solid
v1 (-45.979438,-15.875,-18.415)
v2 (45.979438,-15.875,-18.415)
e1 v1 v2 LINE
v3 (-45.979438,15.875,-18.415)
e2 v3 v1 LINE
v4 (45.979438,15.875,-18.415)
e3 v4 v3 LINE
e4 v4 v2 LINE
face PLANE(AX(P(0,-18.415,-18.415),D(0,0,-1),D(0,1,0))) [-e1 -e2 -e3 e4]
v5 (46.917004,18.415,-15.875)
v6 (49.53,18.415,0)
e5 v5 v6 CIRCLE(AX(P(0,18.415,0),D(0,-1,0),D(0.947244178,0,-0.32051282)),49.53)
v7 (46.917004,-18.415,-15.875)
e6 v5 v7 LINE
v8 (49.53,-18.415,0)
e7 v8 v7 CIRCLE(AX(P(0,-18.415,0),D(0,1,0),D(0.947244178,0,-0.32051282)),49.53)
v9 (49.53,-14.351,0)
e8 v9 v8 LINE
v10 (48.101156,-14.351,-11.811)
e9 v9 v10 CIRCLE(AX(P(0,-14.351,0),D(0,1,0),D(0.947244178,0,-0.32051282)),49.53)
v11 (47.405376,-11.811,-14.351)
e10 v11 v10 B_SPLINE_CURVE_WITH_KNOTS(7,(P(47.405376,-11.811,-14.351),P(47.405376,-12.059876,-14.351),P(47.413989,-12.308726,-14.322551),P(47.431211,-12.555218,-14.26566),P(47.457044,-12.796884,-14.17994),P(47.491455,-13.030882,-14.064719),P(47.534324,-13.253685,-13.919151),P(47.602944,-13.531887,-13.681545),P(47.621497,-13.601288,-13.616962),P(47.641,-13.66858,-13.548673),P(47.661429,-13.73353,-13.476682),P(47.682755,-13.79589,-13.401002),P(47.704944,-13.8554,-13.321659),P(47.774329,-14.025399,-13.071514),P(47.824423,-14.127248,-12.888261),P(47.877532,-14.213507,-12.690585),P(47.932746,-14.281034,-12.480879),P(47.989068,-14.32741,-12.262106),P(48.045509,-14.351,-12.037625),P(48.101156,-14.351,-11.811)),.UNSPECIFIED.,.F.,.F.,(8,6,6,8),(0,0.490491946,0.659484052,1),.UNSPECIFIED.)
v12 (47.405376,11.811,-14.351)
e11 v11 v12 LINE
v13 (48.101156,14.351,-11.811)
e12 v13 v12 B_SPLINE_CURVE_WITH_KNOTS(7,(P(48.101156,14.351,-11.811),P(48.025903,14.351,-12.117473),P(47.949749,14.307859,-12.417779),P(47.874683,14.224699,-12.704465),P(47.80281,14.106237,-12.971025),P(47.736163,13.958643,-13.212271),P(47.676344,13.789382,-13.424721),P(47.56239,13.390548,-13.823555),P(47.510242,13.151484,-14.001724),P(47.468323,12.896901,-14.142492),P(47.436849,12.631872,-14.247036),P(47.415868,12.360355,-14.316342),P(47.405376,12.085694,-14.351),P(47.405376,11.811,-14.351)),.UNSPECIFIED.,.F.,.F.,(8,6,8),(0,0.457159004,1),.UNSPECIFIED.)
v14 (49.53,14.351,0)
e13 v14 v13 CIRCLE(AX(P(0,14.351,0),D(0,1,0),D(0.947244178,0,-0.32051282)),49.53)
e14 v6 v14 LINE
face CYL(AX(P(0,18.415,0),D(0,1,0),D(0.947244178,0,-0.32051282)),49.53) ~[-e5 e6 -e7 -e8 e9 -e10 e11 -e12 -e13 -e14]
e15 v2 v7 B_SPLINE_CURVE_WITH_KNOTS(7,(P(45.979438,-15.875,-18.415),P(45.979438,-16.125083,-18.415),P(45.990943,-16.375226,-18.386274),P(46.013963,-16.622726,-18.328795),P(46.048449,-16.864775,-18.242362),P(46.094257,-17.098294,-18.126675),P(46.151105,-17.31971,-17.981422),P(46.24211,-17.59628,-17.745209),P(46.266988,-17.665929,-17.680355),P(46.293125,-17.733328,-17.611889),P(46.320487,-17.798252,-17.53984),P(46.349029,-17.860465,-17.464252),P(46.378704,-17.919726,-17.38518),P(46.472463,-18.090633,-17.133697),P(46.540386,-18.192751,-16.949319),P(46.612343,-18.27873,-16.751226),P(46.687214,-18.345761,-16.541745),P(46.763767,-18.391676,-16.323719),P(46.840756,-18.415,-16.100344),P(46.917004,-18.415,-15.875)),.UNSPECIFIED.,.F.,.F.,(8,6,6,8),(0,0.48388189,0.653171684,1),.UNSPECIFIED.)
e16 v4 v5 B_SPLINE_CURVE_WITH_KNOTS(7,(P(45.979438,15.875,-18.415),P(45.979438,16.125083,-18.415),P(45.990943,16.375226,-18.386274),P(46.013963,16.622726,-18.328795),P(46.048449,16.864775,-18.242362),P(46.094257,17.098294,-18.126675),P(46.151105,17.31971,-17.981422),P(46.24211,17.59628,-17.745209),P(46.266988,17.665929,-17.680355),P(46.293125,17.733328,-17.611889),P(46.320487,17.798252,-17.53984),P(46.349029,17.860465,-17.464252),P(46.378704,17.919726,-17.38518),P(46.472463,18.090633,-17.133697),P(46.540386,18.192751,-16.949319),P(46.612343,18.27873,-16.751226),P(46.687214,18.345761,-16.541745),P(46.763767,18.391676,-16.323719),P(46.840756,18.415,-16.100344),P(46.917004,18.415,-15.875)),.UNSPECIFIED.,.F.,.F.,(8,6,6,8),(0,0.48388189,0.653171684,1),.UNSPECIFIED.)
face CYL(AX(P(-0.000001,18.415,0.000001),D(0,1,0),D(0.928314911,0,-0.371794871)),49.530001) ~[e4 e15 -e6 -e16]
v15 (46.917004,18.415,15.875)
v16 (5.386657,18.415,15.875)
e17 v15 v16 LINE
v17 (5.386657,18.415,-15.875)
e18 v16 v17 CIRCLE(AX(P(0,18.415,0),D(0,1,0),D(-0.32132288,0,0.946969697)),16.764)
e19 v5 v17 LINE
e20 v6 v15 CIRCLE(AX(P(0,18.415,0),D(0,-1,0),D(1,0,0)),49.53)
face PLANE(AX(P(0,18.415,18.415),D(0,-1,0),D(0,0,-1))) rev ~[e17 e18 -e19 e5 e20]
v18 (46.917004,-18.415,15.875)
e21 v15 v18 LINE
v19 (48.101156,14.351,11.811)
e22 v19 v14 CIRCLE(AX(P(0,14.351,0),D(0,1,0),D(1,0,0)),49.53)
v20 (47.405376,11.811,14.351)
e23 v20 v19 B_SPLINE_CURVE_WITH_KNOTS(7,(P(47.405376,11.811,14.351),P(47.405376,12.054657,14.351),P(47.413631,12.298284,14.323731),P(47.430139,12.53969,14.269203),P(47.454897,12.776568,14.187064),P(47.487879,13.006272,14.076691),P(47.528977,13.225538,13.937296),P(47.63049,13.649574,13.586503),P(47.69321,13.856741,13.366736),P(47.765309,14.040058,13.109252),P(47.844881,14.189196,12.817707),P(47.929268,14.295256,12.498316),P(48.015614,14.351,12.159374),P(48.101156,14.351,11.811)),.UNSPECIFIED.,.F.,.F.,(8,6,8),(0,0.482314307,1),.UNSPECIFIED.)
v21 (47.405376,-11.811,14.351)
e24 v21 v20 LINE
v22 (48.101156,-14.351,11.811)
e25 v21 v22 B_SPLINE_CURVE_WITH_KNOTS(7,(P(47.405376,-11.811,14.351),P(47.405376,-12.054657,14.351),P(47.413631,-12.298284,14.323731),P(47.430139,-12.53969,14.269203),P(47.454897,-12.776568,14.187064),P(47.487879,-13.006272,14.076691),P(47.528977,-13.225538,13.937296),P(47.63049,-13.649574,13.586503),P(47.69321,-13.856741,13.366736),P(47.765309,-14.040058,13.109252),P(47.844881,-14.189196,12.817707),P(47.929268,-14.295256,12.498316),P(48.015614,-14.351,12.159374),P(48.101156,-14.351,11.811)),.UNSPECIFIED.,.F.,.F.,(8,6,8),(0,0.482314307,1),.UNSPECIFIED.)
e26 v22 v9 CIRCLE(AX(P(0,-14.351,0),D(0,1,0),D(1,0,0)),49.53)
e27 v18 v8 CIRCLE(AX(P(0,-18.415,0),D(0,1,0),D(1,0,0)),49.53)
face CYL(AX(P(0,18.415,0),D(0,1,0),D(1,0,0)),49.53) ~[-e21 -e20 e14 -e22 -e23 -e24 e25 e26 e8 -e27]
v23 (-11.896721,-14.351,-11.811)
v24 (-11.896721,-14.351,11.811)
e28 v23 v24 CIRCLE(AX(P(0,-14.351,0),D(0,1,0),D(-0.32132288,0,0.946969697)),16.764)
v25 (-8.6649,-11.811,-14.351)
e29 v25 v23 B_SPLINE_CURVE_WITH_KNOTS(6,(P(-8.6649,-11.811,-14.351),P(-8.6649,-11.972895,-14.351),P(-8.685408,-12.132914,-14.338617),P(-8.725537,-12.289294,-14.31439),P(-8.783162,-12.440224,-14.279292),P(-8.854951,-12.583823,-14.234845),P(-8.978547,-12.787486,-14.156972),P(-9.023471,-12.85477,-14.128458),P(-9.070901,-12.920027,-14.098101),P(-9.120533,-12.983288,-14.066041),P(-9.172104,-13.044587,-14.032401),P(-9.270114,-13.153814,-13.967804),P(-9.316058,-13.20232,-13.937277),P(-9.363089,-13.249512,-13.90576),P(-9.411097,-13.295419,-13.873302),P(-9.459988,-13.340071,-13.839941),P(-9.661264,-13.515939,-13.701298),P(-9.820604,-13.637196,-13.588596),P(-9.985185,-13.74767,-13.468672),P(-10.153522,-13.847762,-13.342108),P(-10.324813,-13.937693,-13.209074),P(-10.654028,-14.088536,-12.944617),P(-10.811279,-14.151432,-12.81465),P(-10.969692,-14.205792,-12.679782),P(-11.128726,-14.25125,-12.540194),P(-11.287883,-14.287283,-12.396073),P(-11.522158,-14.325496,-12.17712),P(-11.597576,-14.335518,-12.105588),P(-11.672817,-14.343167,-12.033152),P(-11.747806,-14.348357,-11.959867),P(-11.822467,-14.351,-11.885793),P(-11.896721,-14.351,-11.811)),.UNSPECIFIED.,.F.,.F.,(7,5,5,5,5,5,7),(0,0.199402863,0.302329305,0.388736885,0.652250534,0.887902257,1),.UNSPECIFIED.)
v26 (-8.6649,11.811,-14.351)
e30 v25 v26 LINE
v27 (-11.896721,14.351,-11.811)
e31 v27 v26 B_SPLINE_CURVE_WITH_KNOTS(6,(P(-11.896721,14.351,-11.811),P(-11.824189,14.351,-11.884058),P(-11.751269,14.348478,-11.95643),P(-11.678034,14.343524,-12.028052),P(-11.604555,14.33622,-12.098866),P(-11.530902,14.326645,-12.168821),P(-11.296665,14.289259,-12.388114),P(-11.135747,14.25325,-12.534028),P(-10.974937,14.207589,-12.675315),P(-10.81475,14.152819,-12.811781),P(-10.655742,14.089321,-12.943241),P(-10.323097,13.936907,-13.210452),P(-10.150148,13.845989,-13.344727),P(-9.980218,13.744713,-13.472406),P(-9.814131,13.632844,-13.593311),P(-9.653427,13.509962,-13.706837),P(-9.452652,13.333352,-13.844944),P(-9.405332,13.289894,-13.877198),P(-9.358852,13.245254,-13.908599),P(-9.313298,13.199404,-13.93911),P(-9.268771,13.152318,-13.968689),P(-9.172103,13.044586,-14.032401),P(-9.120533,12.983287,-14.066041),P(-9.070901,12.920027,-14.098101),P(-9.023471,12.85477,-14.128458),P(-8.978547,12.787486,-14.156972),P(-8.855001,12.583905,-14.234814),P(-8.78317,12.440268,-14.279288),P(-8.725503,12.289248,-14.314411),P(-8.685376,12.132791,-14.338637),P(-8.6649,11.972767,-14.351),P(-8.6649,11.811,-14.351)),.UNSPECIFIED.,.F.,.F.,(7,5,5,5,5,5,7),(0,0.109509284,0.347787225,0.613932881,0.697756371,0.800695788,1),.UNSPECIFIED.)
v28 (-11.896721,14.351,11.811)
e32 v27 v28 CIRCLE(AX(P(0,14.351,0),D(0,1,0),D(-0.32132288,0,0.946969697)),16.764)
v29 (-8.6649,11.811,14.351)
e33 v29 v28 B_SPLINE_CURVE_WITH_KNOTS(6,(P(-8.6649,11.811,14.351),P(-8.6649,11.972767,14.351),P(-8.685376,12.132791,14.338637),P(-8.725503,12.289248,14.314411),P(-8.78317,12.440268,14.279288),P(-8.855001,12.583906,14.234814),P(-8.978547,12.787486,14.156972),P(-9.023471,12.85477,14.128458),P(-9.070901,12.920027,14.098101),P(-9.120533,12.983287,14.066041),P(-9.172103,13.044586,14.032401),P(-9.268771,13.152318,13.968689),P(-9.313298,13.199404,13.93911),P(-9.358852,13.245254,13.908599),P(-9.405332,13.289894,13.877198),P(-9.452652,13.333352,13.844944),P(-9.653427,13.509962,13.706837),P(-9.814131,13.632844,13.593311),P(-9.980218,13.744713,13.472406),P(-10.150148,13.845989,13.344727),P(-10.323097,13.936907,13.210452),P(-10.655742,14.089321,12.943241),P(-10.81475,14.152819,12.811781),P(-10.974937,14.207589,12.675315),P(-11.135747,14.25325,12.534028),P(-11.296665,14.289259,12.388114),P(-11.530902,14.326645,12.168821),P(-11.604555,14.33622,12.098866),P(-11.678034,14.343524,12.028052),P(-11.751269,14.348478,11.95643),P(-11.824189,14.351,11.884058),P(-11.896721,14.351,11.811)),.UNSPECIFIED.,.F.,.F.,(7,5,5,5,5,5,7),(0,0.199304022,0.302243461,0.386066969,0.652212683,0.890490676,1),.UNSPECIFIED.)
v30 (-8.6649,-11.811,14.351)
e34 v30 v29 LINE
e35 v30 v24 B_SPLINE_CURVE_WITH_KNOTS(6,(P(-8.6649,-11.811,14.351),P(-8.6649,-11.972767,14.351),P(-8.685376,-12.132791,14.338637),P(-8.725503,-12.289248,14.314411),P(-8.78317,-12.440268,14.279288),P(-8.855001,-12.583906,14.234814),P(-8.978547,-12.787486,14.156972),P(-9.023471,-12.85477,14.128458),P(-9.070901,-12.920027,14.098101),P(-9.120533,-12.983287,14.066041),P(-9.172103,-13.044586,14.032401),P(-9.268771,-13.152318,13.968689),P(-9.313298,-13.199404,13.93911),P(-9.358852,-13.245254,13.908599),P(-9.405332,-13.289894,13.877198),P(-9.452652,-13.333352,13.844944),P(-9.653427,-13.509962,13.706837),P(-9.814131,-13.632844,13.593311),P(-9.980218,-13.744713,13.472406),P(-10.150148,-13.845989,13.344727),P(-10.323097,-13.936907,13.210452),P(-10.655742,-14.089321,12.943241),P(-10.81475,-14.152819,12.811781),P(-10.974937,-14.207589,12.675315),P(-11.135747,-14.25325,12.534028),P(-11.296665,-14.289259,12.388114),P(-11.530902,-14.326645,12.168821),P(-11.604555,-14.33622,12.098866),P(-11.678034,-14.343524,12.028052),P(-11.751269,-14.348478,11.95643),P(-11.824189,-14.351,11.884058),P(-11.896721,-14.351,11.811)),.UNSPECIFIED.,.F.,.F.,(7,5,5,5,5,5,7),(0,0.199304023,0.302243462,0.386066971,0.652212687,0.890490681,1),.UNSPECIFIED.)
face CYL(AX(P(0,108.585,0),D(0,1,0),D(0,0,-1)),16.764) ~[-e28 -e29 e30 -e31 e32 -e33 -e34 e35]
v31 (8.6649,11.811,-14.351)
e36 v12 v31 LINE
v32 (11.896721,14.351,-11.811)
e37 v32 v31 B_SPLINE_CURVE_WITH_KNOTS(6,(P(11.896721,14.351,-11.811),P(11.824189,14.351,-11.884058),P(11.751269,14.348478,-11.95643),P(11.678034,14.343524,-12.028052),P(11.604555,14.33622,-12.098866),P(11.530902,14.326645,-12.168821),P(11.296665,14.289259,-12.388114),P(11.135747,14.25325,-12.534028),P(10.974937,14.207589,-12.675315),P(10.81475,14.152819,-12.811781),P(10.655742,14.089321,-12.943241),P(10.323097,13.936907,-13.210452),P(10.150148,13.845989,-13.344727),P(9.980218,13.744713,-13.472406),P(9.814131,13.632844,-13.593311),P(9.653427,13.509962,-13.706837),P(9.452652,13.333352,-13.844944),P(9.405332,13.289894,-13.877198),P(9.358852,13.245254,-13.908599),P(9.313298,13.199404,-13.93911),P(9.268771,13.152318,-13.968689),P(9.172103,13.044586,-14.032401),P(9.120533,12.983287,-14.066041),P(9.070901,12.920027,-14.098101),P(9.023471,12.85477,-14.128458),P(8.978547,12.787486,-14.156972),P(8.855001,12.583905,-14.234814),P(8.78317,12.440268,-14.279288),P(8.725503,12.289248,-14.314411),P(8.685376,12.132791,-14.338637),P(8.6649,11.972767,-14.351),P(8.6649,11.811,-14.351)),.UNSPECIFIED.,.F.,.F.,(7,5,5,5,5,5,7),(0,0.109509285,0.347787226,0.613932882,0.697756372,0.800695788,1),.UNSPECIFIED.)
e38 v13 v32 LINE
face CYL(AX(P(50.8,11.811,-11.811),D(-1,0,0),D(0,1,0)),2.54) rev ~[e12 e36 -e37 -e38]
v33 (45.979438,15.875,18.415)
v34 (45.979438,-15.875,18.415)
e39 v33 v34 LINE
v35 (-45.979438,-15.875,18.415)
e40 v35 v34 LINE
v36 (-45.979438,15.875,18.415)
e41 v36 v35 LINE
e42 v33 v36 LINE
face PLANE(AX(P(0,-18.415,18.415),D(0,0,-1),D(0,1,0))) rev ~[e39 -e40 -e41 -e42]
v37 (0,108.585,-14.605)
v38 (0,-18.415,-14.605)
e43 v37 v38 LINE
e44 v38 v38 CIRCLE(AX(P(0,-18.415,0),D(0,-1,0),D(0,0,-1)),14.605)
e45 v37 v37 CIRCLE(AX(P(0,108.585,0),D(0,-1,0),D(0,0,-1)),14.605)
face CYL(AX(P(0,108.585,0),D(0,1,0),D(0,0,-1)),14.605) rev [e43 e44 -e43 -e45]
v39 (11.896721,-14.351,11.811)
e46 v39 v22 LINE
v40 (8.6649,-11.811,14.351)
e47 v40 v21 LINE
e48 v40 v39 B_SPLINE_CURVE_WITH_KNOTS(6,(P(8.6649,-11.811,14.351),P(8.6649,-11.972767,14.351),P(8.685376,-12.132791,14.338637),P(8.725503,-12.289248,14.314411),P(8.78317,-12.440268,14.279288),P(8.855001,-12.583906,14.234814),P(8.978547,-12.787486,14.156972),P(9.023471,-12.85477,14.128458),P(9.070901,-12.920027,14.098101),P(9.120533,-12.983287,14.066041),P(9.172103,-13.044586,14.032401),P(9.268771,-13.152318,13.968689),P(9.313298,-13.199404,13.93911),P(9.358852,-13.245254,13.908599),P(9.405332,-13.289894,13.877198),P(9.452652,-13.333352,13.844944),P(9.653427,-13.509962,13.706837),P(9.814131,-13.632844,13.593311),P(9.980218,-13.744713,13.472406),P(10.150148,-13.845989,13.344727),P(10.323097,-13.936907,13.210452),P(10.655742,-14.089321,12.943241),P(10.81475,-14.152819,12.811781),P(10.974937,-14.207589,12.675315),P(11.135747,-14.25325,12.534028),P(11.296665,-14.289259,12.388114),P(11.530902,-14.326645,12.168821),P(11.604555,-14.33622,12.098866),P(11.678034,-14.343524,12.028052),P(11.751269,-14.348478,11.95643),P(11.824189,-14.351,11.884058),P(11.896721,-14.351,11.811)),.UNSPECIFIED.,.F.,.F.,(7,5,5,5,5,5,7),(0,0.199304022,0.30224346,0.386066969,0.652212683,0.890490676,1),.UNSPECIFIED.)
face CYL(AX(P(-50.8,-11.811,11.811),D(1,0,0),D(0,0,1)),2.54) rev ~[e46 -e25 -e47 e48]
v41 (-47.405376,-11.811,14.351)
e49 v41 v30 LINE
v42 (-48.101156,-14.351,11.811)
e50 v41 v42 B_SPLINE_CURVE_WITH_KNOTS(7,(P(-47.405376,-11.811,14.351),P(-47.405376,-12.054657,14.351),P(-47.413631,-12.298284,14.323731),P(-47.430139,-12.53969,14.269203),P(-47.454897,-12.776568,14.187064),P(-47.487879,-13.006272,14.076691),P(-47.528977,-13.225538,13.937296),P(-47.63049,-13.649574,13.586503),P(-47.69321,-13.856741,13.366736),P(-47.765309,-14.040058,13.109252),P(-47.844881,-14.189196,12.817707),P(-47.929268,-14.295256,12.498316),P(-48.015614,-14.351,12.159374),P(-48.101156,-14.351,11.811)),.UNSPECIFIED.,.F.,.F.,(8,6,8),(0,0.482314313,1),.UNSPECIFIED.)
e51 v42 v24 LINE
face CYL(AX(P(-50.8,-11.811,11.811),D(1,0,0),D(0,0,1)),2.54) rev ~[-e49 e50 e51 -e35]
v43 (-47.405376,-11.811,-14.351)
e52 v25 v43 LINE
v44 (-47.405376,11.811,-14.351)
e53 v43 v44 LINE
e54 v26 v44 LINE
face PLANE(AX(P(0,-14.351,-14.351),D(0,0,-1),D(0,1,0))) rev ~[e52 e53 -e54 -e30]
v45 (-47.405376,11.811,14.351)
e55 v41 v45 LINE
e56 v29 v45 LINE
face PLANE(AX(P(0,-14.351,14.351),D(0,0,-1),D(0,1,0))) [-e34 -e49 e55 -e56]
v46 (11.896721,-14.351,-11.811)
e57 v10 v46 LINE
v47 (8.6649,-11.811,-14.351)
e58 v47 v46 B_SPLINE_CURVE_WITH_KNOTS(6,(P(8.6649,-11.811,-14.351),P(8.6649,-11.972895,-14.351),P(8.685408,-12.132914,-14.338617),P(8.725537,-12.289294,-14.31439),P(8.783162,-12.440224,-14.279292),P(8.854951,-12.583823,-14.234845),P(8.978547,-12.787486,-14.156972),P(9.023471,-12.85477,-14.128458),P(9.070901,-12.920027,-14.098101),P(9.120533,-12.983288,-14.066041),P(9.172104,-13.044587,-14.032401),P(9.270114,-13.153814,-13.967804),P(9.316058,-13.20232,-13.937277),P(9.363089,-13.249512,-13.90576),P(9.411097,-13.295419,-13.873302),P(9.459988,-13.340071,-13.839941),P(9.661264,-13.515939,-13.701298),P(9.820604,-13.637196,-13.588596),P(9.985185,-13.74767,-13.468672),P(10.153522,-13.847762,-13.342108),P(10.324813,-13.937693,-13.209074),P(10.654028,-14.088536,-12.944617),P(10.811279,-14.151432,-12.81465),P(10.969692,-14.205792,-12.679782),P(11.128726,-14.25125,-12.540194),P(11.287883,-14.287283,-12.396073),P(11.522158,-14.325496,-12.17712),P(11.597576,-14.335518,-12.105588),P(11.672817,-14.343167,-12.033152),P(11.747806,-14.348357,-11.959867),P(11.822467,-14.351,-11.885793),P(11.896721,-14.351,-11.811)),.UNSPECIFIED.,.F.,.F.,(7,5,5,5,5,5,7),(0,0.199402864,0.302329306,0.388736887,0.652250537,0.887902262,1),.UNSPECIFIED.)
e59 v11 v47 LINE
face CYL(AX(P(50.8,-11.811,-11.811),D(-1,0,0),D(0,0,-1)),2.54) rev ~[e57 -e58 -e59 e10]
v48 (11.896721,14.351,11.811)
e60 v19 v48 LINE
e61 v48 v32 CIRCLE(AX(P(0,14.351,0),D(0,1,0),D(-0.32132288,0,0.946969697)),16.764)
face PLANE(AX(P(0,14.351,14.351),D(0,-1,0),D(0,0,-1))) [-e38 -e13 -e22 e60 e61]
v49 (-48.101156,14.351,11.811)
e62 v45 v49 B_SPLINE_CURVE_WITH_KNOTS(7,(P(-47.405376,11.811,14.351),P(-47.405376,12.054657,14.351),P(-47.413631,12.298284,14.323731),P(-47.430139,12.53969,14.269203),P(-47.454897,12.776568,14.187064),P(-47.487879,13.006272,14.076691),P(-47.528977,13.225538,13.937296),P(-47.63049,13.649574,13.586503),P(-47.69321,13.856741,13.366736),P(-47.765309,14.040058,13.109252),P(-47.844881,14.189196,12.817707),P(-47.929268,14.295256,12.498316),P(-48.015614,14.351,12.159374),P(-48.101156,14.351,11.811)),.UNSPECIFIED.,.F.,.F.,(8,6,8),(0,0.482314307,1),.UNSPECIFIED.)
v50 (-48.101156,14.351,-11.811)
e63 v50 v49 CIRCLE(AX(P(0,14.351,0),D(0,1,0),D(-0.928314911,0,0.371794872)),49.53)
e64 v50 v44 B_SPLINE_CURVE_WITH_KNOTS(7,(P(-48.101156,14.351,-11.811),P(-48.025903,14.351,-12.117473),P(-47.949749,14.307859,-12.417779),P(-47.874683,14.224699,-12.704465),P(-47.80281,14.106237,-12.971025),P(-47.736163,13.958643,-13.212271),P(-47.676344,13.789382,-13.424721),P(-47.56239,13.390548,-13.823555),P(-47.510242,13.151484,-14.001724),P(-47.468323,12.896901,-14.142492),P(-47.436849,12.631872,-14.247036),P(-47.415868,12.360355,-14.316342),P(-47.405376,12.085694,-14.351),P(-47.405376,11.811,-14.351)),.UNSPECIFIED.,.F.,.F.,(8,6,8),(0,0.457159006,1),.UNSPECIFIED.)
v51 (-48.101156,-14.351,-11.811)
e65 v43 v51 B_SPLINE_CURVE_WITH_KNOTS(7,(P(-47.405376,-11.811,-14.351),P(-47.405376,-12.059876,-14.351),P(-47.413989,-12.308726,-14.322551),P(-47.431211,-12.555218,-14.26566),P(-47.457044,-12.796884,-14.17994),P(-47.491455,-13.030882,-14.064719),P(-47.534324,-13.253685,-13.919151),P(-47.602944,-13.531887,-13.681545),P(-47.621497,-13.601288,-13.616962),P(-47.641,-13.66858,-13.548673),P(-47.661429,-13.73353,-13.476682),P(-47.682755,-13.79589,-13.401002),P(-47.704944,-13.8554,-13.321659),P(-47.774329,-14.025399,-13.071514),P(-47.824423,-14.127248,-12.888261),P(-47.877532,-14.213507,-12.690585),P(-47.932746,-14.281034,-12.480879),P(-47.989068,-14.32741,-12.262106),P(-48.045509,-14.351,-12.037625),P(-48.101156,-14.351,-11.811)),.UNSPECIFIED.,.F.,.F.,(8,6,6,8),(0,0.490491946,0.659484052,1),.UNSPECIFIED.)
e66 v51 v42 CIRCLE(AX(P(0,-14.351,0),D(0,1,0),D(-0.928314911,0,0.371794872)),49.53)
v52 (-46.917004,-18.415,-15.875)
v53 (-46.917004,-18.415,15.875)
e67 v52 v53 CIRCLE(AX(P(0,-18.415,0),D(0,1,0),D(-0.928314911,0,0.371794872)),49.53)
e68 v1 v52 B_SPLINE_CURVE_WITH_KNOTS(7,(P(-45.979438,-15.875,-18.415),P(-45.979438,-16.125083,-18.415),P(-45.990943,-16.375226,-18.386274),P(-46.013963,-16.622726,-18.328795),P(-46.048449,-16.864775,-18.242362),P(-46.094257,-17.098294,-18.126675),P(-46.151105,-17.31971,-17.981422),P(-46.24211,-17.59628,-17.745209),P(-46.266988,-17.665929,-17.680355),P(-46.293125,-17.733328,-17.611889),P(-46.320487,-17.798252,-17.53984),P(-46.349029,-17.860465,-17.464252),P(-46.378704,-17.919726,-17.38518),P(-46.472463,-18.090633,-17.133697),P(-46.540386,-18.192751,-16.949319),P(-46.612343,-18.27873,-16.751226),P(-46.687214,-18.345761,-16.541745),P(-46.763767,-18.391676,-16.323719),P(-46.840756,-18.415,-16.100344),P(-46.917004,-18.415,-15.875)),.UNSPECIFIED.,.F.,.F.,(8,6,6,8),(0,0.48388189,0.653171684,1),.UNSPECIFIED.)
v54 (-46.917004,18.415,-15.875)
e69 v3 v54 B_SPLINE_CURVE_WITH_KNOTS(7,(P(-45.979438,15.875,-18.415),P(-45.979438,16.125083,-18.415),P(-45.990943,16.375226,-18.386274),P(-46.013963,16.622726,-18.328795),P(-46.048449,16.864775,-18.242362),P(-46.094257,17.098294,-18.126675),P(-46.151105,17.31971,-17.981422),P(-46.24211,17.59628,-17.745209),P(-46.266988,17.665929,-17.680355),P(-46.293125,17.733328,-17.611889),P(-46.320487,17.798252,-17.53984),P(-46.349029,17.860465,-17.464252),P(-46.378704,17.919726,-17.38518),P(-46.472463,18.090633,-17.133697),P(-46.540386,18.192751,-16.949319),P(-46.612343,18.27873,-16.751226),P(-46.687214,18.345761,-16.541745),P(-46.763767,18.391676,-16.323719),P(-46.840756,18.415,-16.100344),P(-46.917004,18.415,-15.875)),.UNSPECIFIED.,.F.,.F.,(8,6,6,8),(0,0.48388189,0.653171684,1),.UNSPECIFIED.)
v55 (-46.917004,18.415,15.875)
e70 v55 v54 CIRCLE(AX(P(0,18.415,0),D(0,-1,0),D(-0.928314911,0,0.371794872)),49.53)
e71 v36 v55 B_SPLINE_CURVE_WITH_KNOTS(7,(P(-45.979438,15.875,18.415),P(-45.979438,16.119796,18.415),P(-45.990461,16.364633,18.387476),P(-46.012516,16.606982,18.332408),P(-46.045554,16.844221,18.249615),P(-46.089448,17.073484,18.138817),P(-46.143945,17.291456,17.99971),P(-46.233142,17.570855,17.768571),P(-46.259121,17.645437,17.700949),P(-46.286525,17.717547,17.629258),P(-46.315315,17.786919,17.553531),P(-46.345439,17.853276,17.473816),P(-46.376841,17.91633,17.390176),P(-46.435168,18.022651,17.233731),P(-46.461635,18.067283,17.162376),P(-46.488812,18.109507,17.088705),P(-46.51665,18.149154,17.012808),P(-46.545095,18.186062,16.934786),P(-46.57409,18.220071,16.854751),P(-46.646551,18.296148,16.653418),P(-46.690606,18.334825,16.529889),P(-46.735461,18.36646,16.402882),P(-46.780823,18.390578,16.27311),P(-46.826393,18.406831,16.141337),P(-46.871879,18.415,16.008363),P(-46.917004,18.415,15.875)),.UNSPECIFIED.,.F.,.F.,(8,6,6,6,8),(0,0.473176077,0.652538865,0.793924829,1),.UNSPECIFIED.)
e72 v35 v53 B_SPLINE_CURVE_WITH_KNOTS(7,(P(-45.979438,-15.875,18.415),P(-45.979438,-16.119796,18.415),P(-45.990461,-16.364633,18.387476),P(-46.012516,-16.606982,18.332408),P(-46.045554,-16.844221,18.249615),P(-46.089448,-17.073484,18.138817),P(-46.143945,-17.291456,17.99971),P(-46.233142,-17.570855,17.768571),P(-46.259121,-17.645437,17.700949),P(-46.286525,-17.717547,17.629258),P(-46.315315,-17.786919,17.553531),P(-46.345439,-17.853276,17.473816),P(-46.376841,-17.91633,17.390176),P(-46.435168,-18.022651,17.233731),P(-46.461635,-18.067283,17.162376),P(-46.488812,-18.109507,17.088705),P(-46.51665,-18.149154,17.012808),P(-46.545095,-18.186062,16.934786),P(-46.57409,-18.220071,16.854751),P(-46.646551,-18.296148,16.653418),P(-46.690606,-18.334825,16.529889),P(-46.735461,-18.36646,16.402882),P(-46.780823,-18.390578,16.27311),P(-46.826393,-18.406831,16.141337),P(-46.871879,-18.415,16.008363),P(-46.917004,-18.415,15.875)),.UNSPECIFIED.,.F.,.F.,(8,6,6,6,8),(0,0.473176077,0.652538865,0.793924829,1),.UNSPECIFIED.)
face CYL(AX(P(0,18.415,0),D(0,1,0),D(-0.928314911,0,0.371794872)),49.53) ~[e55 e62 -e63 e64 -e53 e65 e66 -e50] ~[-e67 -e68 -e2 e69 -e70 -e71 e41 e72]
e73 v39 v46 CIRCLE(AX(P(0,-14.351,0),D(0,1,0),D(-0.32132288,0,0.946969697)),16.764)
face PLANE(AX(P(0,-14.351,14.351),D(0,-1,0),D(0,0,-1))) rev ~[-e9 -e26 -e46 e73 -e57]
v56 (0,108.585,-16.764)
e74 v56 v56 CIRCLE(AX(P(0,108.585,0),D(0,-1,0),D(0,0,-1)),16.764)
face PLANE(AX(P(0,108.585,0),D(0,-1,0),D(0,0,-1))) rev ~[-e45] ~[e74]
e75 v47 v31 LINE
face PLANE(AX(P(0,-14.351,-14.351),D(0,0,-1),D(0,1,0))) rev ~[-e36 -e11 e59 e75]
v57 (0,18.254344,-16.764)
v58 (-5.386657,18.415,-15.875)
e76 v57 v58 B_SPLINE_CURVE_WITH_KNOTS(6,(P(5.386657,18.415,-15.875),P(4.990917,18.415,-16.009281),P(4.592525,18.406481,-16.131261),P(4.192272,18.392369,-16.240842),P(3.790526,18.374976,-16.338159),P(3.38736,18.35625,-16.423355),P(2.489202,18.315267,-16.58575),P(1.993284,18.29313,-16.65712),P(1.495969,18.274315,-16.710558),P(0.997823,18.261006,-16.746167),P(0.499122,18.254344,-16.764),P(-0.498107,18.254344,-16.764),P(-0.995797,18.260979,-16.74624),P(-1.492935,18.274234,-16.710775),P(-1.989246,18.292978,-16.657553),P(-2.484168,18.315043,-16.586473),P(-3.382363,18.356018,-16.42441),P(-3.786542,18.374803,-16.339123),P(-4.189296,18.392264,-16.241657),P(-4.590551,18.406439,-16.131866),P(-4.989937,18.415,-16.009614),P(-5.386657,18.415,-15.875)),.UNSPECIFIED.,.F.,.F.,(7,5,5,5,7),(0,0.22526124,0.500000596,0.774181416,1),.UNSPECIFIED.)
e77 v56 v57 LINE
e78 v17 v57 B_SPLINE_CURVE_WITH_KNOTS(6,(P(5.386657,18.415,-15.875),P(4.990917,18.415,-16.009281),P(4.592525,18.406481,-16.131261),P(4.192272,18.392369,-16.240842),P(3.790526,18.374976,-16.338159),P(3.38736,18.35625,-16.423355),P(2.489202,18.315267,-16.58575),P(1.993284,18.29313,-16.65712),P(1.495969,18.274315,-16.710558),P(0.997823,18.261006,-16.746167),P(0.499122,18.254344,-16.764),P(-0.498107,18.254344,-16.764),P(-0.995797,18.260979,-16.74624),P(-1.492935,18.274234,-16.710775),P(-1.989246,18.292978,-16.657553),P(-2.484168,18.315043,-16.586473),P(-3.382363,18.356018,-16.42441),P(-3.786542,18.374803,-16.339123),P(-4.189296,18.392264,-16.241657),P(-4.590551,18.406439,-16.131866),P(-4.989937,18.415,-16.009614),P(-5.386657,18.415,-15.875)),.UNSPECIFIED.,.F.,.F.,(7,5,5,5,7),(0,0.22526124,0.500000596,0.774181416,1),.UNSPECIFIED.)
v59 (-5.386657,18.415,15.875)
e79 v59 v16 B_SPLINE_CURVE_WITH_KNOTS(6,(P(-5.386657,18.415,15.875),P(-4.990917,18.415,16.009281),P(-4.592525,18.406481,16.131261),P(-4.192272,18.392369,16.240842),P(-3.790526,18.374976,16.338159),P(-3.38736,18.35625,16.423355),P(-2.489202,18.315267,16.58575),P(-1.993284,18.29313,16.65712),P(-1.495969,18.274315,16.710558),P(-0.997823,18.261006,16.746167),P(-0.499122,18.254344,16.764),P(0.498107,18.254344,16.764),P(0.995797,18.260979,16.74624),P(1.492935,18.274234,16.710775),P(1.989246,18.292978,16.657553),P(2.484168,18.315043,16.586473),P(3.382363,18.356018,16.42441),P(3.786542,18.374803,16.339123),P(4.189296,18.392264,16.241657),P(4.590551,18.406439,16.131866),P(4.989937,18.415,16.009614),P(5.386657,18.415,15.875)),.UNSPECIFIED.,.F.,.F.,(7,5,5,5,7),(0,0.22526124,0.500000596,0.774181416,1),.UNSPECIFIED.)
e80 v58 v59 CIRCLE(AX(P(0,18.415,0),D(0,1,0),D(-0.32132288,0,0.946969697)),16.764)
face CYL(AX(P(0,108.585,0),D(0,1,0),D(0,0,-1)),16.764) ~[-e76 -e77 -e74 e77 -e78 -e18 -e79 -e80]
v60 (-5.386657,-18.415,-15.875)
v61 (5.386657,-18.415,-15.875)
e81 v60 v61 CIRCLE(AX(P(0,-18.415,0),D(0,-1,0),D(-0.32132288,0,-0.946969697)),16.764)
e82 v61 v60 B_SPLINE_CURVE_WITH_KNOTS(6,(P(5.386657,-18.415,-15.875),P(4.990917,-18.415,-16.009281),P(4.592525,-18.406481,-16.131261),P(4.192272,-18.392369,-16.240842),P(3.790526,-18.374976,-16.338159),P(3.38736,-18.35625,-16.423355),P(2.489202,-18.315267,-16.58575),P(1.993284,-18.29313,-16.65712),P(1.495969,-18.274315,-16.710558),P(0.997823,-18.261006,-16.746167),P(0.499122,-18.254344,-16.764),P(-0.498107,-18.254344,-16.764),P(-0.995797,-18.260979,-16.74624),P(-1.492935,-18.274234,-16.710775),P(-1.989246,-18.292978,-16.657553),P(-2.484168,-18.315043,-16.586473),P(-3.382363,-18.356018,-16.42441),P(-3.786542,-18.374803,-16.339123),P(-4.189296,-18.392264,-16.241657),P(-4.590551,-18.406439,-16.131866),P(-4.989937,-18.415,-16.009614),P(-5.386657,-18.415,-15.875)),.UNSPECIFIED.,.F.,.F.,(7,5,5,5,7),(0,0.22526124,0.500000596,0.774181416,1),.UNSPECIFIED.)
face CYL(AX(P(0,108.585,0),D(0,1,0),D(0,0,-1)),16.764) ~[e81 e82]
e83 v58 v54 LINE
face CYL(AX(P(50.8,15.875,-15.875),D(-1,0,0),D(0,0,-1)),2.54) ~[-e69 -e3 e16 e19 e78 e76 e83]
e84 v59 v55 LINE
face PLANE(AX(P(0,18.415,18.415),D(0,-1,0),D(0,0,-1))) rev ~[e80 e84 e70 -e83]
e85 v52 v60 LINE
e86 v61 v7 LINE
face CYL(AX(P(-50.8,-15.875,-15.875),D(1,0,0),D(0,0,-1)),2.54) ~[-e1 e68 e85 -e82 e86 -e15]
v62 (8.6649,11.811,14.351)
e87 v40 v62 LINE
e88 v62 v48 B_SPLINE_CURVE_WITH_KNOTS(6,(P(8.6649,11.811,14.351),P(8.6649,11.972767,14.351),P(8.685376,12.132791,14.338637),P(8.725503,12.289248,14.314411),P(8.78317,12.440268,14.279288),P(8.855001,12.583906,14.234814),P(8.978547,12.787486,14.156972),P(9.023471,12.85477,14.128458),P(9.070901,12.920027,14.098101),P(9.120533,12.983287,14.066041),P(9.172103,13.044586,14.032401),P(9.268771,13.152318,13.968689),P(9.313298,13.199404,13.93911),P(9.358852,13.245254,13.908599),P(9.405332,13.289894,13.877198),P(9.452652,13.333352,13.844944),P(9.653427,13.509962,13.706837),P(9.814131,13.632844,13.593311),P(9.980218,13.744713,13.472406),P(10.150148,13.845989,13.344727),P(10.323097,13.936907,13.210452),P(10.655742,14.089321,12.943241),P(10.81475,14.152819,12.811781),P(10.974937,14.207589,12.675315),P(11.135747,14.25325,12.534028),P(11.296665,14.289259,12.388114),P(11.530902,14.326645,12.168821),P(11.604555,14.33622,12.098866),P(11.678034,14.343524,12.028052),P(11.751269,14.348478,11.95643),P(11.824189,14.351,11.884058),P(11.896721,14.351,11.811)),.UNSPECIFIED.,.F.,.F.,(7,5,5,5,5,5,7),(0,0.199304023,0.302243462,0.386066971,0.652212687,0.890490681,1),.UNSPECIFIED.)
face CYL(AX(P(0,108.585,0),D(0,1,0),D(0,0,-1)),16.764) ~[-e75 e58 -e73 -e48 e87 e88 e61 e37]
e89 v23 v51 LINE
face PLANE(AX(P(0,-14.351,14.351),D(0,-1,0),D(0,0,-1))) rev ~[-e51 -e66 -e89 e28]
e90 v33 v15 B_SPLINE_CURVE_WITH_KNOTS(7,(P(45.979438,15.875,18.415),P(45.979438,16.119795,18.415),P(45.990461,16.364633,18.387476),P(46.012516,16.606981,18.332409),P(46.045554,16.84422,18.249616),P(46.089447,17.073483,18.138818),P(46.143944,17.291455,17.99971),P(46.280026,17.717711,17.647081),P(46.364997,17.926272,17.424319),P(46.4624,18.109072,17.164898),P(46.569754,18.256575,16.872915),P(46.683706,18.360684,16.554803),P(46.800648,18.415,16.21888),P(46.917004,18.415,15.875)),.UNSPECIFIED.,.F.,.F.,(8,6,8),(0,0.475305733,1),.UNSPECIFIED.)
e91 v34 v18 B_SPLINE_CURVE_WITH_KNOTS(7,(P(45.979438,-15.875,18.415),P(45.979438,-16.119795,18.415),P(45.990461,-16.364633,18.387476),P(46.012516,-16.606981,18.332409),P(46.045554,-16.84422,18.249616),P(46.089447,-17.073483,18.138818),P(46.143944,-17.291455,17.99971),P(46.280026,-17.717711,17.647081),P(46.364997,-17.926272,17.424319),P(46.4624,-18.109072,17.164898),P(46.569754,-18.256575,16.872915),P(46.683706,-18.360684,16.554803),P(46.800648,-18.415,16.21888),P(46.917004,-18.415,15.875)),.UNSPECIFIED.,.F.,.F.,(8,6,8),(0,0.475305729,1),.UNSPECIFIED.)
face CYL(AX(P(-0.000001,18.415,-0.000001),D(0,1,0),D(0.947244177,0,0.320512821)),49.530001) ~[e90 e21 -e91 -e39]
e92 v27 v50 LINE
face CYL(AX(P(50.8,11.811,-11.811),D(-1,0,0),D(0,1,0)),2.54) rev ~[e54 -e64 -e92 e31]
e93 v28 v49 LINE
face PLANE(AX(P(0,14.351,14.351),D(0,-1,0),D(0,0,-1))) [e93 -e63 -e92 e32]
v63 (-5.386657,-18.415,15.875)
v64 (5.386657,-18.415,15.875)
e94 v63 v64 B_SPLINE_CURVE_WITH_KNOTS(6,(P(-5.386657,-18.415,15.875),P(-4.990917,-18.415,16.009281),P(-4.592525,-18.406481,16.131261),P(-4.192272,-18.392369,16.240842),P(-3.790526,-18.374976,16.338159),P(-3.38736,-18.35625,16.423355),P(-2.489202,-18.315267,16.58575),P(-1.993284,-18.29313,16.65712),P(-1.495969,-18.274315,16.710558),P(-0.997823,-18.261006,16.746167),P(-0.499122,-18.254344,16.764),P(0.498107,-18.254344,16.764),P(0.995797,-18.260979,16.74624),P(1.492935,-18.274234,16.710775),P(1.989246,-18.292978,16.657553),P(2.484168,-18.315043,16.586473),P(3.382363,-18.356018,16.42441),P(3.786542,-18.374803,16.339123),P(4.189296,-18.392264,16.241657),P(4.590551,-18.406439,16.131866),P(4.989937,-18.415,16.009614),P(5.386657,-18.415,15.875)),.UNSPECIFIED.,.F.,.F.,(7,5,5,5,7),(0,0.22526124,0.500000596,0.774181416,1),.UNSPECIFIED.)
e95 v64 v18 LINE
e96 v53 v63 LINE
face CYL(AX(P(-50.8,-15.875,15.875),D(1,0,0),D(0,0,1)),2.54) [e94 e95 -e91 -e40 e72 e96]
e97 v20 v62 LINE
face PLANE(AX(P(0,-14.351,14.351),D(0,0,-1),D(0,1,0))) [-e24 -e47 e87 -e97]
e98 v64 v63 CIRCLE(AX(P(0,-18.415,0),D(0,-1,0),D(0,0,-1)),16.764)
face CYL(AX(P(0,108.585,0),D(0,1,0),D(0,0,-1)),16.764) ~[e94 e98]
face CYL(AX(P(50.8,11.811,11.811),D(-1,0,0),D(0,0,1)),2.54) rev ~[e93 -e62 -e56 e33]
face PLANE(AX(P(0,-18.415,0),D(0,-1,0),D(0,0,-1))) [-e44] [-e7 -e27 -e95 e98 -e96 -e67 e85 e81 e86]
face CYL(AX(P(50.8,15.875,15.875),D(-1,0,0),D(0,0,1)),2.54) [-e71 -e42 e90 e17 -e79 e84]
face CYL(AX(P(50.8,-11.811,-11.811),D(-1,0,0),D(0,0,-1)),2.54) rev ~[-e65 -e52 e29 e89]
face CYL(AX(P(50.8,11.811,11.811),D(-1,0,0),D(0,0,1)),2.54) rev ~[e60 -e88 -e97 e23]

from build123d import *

# Parameters (mm, degrees)
SKETCH1_W           = 36.83
SKETCH1_H           = 36.83
SKETCH1_W_2         = 28.702
SKETCH1_H_2         = 28.702
BOSS_EXTRUDE1_DEPTH = 50.8
FILLET1_R           = 2.54
SKETCH3_R           = 16.764
CUT_EXTRUDE2_DEPTH  = 66.39266874
CUT_EXTRUDE3_DEPTH  = 66.392668903
BOSS_EXTRUDE2_START = -127
SKETCH5_R           = 16.764
SKETCH5_R_2         = 14.605
BOSS_EXTRUDE2_DEPTH = 127


with BuildPart() as part:
    # Sketch1 → Boss-Extrude1 (new, symmetric)
    with BuildSketch(Plane(origin=(0, 0, 0), x_dir=(0, 0, -1), z_dir=(1, 0, 0))):
        Rectangle(SKETCH1_W, SKETCH1_H)
        Rectangle(SKETCH1_W_2, SKETCH1_H_2, mode=Mode.SUBTRACT)
    extrude(amount=BOSS_EXTRUDE1_DEPTH, both=True)

    # Fillet1
    fillet1_edges = [part.edges().sort_by_distance(p)[0] for p in [
        (0, -14.351, -14.351),
        (0, 14.351, -14.351),
        (0, 14.351, 14.351),
        (0, -14.351, 14.351),
        (0, 18.415, 18.415),
        (0, 18.415, -18.415),
        (0, -18.415, -18.415),
        (0, -18.415, 18.415),
    ]]
    fillet(fillet1_edges, radius=FILLET1_R)

    # Sketch3 → Cut-Extrude2 (cut, through all)
    with BuildSketch(Plane(origin=(0, 18.415, 0), x_dir=(1, 0, 0), z_dir=(0, 1, 0))):
        with Locations(Location((0, 0, 0), (0, 0, 251.257054082))):
            Circle(SKETCH3_R)
    extrude(amount=-CUT_EXTRUDE2_DEPTH, mode=Mode.SUBTRACT)

    # Sketch4 → Cut-Extrude3 (cut, through all)
    with BuildSketch(Plane(origin=(0, 18.415, 0), x_dir=(1, 0, 0), z_dir=(0, 1, 0))):
        with BuildLine():
            Line((-45.979437524, 18.415), (-50.8, 18.415))
            Line((-50.8, 18.415), (-50.8, -18.415))
            Line((-50.8, -18.415), (-45.979437524, -18.415))
            ThreePointArc((-45.979437524, -18.415), (-49.53, 0), (-45.979437524, 18.415))
        make_face()
        with BuildLine():
            Line((50.8, 15.875), (46.917004114, 15.875))
            ThreePointArc((46.917004114, 15.875), (48.872385422, 8.044305012), (49.53, 0))
            ThreePointArc((49.53, 0), (48.872385422, -8.044305012), (46.917004114, -15.875))
            Line((46.917004114, -15.875), (50.8, -15.875))
            Line((50.8, -15.875), (50.8, 15.875))
        make_face()
        with BuildLine():
            Line((50.8, 18.415), (45.979437524, 18.415))
            ThreePointArc((45.979437524, 18.415), (46.465579919, 17.151407603), (46.917004114, 15.875))
            Line((46.917004114, 15.875), (50.8, 15.875))
            Line((50.8, 15.875), (50.8, 18.415))
        make_face()
        with BuildLine():
            ThreePointArc((46.917004114, -15.875), (46.465579919, -17.151407603), (45.979437524, -18.415))
            Line((45.979437524, -18.415), (50.8, -18.415))
            Line((50.8, -18.415), (50.8, -15.875))
            Line((50.8, -15.875), (46.917004114, -15.875))
        make_face()
    extrude(amount=-CUT_EXTRUDE3_DEPTH, mode=Mode.SUBTRACT)

    # Sketch5 → Boss-Extrude2 (add)
    with BuildSketch(Plane.XZ.offset(18.415).offset(BOSS_EXTRUDE2_START)):
        with Locations(Location((0, 0, 0), (0, 0, 270))):
            Circle(SKETCH5_R)
        with Locations(Location((0, 0, 0), (0, 0, 270))):
            Circle(SKETCH5_R_2, mode=Mode.SUBTRACT)
    extrude(amount=BOSS_EXTRUDE2_DEPTH)


solid = part.part
